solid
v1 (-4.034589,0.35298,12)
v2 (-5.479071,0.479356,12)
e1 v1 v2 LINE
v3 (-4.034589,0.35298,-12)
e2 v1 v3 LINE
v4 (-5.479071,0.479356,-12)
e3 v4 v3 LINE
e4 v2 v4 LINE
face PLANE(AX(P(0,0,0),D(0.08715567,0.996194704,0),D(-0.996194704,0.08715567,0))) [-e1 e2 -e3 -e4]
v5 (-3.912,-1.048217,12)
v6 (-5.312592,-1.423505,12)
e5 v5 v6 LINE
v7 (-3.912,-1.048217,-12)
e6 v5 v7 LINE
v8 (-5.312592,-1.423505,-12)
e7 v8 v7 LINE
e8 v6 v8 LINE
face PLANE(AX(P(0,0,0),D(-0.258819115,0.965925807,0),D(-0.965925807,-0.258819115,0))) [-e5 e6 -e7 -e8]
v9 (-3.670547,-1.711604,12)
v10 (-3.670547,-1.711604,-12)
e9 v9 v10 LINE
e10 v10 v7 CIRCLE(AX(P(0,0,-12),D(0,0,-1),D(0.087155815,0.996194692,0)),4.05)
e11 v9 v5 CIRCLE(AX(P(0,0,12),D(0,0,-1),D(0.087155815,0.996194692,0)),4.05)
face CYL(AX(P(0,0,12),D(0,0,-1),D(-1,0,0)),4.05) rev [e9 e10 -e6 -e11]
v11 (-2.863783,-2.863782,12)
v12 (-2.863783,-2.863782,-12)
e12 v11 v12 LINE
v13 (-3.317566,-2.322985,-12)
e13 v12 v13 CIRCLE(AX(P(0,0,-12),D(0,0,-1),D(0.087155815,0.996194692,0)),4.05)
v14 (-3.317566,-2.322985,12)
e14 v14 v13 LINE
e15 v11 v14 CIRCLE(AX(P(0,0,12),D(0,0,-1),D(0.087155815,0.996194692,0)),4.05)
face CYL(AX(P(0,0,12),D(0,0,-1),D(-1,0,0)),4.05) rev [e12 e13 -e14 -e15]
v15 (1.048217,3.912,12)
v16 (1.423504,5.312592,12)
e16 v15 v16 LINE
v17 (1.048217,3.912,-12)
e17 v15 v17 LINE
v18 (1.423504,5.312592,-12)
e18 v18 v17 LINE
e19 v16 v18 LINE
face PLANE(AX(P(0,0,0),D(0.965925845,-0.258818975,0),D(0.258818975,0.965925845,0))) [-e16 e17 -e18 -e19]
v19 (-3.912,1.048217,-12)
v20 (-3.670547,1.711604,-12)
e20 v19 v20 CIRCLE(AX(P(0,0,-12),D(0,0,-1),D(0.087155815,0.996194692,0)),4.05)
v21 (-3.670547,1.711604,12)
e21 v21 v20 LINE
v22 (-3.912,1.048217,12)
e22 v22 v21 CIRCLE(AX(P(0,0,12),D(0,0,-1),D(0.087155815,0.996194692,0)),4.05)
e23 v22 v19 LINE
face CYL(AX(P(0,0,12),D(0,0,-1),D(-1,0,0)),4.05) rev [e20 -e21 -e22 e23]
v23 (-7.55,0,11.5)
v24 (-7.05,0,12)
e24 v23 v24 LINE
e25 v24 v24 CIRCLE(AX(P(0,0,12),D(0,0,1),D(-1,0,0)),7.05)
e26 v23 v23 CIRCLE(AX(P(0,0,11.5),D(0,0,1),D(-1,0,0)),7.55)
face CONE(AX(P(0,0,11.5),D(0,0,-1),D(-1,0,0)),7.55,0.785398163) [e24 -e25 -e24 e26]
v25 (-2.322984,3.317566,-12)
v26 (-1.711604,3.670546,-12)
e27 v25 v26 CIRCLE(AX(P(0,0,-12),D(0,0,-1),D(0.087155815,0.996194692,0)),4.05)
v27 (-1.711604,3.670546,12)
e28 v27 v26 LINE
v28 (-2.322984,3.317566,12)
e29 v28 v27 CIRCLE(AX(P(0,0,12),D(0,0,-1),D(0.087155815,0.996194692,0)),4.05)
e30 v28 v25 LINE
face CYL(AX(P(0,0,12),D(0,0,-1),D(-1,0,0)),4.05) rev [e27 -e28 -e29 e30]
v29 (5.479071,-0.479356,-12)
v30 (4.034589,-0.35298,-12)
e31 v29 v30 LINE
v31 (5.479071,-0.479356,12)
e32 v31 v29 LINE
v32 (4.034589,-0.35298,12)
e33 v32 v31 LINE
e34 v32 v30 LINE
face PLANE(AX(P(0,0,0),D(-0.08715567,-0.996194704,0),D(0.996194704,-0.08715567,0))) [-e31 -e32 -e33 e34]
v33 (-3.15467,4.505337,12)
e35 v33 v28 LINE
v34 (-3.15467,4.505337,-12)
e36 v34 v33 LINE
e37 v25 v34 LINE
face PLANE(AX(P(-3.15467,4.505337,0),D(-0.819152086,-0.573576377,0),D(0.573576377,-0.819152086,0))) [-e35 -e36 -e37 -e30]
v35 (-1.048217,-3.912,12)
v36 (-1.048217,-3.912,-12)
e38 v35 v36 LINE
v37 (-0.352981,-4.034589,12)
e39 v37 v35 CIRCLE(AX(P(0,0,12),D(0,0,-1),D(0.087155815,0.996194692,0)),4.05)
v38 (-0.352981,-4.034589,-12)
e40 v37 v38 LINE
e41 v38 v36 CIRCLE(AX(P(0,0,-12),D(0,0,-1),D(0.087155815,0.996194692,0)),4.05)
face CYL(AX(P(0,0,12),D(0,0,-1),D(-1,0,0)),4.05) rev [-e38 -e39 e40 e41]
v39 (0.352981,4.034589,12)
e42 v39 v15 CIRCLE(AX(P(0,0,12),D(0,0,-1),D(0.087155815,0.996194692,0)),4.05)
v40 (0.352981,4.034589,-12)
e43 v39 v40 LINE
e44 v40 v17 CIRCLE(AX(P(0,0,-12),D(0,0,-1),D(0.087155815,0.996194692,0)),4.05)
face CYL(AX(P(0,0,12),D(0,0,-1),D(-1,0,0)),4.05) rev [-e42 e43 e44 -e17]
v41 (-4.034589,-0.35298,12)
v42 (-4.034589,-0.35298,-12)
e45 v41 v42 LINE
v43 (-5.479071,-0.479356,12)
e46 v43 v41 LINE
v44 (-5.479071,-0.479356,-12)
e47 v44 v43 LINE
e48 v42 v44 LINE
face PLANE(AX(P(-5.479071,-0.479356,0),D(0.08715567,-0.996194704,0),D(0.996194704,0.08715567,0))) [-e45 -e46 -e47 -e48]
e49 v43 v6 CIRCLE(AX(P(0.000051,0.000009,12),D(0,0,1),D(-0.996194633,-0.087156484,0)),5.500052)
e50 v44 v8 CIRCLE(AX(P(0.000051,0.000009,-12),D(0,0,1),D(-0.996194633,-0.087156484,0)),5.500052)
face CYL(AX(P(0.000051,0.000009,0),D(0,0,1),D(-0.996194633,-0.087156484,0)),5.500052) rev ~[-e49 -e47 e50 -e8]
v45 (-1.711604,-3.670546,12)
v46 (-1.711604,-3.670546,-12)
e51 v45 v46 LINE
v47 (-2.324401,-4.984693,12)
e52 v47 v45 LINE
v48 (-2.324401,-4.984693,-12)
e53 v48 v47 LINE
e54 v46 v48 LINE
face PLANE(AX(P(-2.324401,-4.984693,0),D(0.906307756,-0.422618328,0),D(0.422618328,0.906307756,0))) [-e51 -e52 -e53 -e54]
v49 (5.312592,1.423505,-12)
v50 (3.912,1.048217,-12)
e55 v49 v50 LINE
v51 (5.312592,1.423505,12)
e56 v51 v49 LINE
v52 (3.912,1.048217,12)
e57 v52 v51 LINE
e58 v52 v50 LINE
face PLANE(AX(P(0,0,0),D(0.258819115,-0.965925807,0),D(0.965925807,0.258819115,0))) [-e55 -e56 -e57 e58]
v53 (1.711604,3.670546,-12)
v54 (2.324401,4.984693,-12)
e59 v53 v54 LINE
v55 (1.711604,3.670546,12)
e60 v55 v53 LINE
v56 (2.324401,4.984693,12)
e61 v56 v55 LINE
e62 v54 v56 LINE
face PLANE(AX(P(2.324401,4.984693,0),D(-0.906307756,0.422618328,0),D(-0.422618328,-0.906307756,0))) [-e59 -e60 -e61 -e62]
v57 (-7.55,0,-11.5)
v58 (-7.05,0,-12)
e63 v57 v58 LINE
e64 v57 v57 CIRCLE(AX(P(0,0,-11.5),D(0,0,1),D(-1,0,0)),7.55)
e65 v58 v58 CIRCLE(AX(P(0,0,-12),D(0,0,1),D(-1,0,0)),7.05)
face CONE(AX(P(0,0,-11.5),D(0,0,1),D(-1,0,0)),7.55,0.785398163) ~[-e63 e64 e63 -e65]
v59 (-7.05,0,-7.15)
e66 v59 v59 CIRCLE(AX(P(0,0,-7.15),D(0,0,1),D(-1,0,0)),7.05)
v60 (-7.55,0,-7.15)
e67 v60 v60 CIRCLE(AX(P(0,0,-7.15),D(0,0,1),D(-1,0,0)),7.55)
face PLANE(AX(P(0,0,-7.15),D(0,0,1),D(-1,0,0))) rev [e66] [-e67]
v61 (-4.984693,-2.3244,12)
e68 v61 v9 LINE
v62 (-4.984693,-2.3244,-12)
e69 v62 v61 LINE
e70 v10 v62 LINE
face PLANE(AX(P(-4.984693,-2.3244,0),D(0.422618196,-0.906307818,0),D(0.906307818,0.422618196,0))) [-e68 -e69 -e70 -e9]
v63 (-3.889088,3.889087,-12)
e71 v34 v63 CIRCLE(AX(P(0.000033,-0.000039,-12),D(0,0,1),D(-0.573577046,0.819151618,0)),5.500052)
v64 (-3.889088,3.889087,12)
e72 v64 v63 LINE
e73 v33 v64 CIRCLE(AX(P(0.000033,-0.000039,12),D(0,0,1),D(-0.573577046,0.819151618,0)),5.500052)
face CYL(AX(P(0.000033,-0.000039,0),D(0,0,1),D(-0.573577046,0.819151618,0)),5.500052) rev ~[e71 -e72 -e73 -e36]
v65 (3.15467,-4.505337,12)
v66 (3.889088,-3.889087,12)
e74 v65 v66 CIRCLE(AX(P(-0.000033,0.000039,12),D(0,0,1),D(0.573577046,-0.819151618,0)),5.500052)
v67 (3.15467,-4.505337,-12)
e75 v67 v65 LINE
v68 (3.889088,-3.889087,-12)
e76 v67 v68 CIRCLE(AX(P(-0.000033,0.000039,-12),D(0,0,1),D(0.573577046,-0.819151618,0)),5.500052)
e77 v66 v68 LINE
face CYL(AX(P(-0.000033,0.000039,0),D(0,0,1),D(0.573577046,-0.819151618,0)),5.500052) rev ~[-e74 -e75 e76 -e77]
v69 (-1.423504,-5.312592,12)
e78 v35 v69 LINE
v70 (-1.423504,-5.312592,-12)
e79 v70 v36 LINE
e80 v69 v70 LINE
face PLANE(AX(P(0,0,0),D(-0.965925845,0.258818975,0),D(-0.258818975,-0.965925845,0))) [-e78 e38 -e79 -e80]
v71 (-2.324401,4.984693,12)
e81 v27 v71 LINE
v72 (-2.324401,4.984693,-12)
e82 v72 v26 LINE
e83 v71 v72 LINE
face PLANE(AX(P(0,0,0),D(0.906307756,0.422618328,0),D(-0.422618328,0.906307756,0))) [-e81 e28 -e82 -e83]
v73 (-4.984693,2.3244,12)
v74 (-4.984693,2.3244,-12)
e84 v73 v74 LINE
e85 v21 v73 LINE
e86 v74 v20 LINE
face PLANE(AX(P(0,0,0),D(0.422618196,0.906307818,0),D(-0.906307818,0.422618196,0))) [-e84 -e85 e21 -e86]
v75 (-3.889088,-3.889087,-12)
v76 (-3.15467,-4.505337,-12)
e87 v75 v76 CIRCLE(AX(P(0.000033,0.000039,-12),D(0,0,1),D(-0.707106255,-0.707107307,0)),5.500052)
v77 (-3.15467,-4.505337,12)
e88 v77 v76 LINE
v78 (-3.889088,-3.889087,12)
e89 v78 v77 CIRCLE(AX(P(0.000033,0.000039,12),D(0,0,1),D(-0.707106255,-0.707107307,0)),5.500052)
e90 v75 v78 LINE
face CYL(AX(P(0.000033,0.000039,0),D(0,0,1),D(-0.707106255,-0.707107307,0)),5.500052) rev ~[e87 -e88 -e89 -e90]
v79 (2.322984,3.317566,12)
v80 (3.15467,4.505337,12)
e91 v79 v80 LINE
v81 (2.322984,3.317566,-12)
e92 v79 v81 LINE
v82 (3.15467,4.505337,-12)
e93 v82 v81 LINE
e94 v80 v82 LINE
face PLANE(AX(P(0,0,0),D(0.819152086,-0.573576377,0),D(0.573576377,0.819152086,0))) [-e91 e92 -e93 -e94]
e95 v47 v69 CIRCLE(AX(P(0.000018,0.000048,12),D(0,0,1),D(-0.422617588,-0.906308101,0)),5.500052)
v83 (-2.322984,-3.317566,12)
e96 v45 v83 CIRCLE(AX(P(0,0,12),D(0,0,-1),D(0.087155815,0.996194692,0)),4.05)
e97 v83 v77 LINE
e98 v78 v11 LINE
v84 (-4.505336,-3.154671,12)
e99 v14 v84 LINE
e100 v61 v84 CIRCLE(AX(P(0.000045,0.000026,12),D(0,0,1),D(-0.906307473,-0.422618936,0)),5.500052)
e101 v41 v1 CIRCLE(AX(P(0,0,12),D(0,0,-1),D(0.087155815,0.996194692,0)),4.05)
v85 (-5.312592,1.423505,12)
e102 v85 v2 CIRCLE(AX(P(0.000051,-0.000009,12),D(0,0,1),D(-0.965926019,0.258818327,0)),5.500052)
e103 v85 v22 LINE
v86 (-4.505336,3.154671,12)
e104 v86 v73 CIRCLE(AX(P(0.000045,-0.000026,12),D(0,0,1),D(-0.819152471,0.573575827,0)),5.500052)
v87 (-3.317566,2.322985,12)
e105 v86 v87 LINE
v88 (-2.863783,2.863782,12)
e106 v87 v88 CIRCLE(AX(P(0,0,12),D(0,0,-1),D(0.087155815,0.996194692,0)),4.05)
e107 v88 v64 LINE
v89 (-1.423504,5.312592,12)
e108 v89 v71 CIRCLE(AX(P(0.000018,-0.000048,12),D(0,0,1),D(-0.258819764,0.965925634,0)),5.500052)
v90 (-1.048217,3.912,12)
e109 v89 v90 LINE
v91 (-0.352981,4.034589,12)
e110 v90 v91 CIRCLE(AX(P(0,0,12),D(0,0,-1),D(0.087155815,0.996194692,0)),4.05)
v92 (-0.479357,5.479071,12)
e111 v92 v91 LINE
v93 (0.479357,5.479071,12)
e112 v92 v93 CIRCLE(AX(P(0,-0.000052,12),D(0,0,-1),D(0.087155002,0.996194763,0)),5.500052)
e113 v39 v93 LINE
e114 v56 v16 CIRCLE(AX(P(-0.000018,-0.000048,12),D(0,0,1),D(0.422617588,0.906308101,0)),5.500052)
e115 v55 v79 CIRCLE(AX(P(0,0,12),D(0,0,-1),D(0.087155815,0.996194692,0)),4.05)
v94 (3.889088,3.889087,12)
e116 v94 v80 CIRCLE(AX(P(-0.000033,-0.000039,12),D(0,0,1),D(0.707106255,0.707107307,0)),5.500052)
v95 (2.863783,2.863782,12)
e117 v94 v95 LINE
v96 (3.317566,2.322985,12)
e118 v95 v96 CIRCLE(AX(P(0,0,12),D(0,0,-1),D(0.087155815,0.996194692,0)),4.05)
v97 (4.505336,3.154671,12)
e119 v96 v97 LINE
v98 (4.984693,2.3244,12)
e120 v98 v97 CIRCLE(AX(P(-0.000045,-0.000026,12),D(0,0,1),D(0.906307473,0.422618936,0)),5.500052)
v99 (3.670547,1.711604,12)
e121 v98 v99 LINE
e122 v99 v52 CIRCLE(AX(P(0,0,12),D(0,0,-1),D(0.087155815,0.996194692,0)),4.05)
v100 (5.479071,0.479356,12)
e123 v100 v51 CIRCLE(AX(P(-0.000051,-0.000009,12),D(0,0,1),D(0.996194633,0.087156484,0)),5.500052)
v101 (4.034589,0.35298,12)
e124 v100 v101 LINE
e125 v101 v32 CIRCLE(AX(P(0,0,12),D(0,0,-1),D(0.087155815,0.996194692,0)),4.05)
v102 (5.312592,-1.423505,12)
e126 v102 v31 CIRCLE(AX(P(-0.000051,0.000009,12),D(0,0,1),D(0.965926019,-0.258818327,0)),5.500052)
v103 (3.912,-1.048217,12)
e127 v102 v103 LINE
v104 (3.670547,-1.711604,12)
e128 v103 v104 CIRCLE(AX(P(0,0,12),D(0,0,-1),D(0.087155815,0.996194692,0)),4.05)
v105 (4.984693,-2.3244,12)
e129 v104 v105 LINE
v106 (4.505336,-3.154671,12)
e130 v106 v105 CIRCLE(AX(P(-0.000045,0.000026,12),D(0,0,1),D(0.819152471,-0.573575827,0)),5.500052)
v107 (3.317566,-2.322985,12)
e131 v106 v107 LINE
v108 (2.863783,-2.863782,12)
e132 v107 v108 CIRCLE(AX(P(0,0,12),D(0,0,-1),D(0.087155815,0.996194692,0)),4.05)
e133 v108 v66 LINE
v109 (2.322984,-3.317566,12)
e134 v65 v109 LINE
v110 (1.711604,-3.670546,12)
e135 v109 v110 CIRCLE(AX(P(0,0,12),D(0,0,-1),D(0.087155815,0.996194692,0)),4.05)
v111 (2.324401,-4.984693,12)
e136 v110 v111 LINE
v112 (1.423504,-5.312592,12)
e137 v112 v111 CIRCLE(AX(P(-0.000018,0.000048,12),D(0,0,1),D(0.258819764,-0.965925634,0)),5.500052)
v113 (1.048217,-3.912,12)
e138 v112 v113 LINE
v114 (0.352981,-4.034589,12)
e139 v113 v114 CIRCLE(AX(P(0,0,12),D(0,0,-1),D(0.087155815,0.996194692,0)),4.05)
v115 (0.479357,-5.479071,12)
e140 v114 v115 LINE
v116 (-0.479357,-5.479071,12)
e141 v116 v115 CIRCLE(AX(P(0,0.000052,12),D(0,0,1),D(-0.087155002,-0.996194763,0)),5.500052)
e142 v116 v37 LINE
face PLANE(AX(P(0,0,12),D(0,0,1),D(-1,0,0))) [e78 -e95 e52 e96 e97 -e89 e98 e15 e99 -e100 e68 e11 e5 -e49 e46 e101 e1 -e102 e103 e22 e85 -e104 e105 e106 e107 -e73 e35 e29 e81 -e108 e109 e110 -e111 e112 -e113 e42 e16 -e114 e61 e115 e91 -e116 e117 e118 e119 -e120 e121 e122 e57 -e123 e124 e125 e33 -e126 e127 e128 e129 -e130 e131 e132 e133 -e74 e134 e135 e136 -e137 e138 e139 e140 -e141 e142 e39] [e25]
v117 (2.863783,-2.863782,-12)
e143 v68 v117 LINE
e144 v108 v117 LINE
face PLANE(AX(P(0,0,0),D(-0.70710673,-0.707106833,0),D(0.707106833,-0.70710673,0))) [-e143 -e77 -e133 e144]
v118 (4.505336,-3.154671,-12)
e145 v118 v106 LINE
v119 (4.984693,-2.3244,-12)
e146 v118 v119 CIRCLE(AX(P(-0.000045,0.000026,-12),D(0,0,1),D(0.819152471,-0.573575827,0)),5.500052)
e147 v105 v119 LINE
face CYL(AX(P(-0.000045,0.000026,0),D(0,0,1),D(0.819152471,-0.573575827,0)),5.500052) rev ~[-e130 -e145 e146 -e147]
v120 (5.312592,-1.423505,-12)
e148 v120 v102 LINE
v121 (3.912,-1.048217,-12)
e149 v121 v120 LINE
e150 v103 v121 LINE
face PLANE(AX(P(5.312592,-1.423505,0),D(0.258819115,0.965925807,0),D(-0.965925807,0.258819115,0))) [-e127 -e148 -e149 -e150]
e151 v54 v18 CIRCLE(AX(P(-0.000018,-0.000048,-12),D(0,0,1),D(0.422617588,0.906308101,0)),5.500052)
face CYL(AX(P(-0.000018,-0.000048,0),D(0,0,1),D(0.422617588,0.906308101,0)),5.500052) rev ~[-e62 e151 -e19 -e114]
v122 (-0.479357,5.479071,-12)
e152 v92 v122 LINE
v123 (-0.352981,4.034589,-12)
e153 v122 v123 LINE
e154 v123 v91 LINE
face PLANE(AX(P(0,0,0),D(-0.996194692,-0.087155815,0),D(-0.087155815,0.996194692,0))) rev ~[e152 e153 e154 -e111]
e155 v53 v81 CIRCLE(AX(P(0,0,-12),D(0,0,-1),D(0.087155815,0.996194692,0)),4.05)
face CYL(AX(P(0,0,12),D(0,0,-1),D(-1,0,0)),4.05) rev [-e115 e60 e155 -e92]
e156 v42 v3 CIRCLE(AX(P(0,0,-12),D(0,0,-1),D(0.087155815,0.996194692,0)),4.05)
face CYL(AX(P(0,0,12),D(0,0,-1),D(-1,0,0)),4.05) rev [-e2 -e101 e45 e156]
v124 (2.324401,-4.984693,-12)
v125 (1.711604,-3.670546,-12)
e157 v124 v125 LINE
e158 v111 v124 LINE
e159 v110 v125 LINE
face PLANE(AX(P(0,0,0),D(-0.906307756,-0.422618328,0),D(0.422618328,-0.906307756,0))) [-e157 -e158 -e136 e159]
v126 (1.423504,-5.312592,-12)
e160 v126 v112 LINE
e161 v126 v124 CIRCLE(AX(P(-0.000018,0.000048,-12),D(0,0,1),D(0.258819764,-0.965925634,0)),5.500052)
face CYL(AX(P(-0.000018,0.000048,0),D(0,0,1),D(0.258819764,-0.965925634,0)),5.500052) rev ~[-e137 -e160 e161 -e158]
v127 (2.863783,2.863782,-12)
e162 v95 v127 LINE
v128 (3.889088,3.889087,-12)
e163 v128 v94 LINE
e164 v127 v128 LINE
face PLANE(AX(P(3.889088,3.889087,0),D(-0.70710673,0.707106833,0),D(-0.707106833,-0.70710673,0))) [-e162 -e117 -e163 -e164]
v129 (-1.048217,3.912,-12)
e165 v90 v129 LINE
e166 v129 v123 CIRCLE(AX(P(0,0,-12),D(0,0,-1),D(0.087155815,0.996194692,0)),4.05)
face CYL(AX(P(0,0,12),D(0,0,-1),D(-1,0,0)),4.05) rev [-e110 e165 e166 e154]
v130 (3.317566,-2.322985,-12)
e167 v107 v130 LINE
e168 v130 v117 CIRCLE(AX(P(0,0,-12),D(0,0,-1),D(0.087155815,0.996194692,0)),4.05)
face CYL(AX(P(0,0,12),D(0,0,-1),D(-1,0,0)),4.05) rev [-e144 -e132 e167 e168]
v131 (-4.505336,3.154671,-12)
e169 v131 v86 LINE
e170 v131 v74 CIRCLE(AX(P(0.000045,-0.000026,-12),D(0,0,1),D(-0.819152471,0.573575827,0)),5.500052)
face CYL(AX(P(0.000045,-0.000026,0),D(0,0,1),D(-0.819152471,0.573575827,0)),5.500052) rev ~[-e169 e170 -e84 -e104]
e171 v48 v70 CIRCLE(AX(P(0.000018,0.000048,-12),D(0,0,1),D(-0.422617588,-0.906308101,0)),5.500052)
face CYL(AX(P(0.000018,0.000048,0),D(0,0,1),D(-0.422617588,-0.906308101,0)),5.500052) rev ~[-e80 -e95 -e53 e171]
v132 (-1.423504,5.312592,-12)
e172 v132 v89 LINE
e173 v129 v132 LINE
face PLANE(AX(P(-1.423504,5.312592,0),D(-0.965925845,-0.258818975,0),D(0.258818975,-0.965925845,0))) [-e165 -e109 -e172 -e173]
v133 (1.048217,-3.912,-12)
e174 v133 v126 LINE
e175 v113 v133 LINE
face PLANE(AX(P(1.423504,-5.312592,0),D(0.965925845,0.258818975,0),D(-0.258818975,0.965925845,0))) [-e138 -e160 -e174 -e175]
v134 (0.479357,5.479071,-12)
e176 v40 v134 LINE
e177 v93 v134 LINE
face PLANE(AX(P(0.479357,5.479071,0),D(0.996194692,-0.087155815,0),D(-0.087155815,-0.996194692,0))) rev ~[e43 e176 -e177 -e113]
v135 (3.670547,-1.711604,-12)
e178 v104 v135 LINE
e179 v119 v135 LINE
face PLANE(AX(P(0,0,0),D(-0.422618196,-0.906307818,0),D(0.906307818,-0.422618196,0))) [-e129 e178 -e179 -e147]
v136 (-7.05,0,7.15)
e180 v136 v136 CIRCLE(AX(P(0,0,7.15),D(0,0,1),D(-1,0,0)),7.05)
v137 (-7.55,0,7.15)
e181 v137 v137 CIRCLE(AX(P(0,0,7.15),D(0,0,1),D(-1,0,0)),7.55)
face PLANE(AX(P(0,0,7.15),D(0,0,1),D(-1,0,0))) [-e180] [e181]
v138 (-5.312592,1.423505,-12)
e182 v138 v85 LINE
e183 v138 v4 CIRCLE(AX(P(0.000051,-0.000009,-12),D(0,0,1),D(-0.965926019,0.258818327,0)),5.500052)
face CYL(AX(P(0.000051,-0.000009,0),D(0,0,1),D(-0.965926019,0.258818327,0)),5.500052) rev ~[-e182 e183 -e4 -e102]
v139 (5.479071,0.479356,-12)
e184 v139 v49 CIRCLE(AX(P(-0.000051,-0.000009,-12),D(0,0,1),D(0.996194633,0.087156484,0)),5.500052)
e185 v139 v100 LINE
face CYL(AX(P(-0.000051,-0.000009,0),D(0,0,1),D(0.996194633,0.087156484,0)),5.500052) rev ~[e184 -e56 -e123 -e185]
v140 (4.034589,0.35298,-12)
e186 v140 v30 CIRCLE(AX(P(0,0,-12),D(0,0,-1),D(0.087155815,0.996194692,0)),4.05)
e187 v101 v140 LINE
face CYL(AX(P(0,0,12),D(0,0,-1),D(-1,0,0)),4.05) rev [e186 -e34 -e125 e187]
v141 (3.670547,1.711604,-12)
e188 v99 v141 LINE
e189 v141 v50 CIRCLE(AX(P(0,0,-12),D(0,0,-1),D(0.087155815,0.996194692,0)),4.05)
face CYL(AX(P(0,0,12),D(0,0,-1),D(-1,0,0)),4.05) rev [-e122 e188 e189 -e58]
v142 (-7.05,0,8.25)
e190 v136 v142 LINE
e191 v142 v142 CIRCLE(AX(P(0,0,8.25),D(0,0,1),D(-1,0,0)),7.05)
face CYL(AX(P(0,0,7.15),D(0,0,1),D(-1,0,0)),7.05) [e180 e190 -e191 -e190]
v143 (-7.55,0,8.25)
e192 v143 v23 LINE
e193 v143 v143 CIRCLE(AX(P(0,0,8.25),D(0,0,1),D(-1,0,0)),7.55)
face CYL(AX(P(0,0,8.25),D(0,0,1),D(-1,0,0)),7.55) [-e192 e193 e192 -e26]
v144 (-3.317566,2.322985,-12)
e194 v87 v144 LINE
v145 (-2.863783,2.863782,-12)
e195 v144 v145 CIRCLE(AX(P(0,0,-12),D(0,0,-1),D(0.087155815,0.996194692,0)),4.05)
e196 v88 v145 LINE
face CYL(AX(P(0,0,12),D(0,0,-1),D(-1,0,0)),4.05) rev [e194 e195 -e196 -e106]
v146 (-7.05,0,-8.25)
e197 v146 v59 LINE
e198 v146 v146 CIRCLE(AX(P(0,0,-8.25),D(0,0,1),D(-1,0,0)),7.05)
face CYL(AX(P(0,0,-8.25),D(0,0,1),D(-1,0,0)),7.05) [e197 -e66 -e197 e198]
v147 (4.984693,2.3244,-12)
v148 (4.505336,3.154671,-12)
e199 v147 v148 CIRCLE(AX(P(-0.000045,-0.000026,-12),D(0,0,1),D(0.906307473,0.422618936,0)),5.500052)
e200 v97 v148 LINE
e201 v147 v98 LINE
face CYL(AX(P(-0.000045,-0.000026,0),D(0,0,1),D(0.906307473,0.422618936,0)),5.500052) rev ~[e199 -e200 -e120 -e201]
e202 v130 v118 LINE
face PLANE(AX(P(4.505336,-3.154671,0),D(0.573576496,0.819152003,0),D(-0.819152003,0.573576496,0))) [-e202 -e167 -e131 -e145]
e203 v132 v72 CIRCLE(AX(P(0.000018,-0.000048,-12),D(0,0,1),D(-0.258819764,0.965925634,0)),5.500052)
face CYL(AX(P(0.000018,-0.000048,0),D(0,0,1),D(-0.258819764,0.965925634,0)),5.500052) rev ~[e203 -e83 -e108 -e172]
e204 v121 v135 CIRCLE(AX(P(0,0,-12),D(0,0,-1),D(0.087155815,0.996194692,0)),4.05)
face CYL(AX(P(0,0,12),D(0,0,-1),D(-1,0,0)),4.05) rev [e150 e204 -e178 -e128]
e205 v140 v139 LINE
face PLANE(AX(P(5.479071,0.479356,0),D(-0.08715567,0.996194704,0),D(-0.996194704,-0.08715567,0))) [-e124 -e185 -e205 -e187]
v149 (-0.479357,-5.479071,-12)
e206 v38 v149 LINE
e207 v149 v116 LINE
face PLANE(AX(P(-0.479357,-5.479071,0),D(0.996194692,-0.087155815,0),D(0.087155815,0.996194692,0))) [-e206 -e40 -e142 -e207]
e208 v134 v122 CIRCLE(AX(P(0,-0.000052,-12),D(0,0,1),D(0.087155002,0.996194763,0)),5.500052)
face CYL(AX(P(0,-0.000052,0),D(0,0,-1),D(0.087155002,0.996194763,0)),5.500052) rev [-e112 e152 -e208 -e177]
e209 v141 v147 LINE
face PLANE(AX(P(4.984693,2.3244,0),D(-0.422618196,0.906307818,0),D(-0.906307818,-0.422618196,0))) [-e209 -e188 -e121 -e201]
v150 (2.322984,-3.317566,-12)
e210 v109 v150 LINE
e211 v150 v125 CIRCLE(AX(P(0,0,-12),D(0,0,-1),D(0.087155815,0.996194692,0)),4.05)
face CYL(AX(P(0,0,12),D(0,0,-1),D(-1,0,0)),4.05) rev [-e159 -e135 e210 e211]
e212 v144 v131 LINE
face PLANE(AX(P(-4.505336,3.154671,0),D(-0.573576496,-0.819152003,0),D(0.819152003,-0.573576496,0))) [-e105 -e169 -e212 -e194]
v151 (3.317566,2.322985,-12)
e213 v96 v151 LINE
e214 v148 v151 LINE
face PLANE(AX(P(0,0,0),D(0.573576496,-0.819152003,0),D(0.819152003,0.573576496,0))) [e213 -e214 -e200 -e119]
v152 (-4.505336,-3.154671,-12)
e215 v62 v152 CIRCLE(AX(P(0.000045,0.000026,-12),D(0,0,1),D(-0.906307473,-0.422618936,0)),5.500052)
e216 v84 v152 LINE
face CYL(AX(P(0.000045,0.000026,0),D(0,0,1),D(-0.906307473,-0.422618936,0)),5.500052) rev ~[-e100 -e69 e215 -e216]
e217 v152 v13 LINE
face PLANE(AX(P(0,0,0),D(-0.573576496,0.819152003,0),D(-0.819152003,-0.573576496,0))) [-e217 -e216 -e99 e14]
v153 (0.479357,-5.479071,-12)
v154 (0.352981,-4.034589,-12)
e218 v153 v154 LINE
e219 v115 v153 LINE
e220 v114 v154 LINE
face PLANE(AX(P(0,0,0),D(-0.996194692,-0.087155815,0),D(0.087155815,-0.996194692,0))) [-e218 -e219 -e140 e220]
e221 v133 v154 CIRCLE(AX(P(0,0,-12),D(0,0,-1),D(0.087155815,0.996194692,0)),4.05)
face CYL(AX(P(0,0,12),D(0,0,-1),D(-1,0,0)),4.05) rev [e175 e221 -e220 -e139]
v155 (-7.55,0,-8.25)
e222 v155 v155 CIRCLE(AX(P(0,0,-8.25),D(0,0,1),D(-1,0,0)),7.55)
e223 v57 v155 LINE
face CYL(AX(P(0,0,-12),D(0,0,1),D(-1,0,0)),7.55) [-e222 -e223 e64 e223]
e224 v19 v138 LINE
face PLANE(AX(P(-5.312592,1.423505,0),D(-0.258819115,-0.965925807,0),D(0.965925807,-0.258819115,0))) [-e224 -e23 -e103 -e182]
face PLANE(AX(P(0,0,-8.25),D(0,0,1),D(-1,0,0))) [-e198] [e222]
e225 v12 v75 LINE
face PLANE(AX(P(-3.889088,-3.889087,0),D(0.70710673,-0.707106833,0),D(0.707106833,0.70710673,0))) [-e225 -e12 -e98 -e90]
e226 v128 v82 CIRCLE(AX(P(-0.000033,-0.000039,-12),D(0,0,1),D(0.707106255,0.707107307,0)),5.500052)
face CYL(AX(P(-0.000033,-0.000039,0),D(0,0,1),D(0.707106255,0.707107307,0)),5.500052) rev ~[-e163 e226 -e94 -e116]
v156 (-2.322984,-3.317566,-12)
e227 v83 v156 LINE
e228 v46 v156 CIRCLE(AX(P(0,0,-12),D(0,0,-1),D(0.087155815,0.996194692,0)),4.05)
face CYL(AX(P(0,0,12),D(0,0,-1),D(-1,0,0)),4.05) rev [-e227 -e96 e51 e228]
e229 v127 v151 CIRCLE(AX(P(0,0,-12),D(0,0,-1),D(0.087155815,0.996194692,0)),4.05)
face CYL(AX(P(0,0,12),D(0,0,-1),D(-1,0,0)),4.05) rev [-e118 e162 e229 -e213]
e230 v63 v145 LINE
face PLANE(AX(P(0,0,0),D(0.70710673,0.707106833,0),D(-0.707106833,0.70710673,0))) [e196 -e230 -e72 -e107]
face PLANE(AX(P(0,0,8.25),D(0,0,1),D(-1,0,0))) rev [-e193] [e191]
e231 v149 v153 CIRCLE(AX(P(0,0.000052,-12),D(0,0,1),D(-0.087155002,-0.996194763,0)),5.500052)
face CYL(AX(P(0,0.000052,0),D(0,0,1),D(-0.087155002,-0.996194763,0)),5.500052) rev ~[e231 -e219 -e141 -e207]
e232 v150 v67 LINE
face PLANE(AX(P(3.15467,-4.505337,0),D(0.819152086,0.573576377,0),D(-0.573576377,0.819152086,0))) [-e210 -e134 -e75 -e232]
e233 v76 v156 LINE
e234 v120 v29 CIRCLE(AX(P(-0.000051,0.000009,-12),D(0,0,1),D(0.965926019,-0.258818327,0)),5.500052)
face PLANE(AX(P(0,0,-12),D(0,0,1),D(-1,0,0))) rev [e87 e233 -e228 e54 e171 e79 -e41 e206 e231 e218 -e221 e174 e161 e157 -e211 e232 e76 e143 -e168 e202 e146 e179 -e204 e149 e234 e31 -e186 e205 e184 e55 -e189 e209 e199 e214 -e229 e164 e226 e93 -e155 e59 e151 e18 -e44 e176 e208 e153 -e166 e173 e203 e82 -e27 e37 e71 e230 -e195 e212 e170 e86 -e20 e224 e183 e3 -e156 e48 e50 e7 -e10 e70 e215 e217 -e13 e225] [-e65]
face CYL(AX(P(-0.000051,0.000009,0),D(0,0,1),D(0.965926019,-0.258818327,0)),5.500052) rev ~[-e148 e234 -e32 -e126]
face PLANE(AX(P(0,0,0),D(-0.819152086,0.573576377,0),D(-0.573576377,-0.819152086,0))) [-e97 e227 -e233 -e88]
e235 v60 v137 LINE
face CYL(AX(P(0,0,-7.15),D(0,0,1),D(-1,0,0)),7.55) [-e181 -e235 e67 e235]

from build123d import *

# Parameters (mm, degrees)
POCKET_DEPTH       = 76.251136
POCKET_DEPTH_BACK  = 76.251136
POLARPATTERN_COUNT = 18
CHAMFER_SIZE       = 0.5


with BuildPart() as part:
    # Sketch → Revolution (revolve)
    with BuildSketch(Plane.XZ):
        Polygon((-7.55, 7.15), (-7.05, 7.15), (-7.05, 8.25), (-7.55, 8.25), (-7.55, 12), (-4.05, 12), (-4.05, -12), (-7.55, -12), (-7.55, -8.25), (-7.05, -8.25), (-7.05, -7.15), (-7.55, -7.15), align=None)
    revolve(axis=Axis((0, 0, 0), (0, 0, 1)))

    # Sketch001 → Pocket (cut, two sides)
    with BuildSketch(Plane.XY) as pocket_sk:
        with BuildLine():
            Line((0, 0), (-0.479357, 5.479071))
            ThreePointArc((0.479357, 5.479071), (0, 5.5), (-0.479357, 5.479071))
            Line((0.479357, 5.479071), (0, 0))
        make_face()
    pocket = extrude(amount=-POCKET_DEPTH, mode=Mode.SUBTRACT) + extrude(pocket_sk.sketch, amount=POCKET_DEPTH_BACK, mode=Mode.SUBTRACT)

    # PolarPattern: Pocket ×18 about axis
    polarpattern_axis = Axis((0, 0, 0), (0, 0, 1))
    for i in range(1, POLARPATTERN_COUNT):
        add(pocket.rotate(polarpattern_axis, i * 360 / POLARPATTERN_COUNT), mode=Mode.SUBTRACT)

    # Chamfer
    chamfer_edges = [part.edges().sort_by_distance(p)[0] for p in [
        (7.55, 0, 12),
        (7.55, 0, -12),
    ]]
    chamfer(chamfer_edges, length=CHAMFER_SIZE)


solid = part.part
